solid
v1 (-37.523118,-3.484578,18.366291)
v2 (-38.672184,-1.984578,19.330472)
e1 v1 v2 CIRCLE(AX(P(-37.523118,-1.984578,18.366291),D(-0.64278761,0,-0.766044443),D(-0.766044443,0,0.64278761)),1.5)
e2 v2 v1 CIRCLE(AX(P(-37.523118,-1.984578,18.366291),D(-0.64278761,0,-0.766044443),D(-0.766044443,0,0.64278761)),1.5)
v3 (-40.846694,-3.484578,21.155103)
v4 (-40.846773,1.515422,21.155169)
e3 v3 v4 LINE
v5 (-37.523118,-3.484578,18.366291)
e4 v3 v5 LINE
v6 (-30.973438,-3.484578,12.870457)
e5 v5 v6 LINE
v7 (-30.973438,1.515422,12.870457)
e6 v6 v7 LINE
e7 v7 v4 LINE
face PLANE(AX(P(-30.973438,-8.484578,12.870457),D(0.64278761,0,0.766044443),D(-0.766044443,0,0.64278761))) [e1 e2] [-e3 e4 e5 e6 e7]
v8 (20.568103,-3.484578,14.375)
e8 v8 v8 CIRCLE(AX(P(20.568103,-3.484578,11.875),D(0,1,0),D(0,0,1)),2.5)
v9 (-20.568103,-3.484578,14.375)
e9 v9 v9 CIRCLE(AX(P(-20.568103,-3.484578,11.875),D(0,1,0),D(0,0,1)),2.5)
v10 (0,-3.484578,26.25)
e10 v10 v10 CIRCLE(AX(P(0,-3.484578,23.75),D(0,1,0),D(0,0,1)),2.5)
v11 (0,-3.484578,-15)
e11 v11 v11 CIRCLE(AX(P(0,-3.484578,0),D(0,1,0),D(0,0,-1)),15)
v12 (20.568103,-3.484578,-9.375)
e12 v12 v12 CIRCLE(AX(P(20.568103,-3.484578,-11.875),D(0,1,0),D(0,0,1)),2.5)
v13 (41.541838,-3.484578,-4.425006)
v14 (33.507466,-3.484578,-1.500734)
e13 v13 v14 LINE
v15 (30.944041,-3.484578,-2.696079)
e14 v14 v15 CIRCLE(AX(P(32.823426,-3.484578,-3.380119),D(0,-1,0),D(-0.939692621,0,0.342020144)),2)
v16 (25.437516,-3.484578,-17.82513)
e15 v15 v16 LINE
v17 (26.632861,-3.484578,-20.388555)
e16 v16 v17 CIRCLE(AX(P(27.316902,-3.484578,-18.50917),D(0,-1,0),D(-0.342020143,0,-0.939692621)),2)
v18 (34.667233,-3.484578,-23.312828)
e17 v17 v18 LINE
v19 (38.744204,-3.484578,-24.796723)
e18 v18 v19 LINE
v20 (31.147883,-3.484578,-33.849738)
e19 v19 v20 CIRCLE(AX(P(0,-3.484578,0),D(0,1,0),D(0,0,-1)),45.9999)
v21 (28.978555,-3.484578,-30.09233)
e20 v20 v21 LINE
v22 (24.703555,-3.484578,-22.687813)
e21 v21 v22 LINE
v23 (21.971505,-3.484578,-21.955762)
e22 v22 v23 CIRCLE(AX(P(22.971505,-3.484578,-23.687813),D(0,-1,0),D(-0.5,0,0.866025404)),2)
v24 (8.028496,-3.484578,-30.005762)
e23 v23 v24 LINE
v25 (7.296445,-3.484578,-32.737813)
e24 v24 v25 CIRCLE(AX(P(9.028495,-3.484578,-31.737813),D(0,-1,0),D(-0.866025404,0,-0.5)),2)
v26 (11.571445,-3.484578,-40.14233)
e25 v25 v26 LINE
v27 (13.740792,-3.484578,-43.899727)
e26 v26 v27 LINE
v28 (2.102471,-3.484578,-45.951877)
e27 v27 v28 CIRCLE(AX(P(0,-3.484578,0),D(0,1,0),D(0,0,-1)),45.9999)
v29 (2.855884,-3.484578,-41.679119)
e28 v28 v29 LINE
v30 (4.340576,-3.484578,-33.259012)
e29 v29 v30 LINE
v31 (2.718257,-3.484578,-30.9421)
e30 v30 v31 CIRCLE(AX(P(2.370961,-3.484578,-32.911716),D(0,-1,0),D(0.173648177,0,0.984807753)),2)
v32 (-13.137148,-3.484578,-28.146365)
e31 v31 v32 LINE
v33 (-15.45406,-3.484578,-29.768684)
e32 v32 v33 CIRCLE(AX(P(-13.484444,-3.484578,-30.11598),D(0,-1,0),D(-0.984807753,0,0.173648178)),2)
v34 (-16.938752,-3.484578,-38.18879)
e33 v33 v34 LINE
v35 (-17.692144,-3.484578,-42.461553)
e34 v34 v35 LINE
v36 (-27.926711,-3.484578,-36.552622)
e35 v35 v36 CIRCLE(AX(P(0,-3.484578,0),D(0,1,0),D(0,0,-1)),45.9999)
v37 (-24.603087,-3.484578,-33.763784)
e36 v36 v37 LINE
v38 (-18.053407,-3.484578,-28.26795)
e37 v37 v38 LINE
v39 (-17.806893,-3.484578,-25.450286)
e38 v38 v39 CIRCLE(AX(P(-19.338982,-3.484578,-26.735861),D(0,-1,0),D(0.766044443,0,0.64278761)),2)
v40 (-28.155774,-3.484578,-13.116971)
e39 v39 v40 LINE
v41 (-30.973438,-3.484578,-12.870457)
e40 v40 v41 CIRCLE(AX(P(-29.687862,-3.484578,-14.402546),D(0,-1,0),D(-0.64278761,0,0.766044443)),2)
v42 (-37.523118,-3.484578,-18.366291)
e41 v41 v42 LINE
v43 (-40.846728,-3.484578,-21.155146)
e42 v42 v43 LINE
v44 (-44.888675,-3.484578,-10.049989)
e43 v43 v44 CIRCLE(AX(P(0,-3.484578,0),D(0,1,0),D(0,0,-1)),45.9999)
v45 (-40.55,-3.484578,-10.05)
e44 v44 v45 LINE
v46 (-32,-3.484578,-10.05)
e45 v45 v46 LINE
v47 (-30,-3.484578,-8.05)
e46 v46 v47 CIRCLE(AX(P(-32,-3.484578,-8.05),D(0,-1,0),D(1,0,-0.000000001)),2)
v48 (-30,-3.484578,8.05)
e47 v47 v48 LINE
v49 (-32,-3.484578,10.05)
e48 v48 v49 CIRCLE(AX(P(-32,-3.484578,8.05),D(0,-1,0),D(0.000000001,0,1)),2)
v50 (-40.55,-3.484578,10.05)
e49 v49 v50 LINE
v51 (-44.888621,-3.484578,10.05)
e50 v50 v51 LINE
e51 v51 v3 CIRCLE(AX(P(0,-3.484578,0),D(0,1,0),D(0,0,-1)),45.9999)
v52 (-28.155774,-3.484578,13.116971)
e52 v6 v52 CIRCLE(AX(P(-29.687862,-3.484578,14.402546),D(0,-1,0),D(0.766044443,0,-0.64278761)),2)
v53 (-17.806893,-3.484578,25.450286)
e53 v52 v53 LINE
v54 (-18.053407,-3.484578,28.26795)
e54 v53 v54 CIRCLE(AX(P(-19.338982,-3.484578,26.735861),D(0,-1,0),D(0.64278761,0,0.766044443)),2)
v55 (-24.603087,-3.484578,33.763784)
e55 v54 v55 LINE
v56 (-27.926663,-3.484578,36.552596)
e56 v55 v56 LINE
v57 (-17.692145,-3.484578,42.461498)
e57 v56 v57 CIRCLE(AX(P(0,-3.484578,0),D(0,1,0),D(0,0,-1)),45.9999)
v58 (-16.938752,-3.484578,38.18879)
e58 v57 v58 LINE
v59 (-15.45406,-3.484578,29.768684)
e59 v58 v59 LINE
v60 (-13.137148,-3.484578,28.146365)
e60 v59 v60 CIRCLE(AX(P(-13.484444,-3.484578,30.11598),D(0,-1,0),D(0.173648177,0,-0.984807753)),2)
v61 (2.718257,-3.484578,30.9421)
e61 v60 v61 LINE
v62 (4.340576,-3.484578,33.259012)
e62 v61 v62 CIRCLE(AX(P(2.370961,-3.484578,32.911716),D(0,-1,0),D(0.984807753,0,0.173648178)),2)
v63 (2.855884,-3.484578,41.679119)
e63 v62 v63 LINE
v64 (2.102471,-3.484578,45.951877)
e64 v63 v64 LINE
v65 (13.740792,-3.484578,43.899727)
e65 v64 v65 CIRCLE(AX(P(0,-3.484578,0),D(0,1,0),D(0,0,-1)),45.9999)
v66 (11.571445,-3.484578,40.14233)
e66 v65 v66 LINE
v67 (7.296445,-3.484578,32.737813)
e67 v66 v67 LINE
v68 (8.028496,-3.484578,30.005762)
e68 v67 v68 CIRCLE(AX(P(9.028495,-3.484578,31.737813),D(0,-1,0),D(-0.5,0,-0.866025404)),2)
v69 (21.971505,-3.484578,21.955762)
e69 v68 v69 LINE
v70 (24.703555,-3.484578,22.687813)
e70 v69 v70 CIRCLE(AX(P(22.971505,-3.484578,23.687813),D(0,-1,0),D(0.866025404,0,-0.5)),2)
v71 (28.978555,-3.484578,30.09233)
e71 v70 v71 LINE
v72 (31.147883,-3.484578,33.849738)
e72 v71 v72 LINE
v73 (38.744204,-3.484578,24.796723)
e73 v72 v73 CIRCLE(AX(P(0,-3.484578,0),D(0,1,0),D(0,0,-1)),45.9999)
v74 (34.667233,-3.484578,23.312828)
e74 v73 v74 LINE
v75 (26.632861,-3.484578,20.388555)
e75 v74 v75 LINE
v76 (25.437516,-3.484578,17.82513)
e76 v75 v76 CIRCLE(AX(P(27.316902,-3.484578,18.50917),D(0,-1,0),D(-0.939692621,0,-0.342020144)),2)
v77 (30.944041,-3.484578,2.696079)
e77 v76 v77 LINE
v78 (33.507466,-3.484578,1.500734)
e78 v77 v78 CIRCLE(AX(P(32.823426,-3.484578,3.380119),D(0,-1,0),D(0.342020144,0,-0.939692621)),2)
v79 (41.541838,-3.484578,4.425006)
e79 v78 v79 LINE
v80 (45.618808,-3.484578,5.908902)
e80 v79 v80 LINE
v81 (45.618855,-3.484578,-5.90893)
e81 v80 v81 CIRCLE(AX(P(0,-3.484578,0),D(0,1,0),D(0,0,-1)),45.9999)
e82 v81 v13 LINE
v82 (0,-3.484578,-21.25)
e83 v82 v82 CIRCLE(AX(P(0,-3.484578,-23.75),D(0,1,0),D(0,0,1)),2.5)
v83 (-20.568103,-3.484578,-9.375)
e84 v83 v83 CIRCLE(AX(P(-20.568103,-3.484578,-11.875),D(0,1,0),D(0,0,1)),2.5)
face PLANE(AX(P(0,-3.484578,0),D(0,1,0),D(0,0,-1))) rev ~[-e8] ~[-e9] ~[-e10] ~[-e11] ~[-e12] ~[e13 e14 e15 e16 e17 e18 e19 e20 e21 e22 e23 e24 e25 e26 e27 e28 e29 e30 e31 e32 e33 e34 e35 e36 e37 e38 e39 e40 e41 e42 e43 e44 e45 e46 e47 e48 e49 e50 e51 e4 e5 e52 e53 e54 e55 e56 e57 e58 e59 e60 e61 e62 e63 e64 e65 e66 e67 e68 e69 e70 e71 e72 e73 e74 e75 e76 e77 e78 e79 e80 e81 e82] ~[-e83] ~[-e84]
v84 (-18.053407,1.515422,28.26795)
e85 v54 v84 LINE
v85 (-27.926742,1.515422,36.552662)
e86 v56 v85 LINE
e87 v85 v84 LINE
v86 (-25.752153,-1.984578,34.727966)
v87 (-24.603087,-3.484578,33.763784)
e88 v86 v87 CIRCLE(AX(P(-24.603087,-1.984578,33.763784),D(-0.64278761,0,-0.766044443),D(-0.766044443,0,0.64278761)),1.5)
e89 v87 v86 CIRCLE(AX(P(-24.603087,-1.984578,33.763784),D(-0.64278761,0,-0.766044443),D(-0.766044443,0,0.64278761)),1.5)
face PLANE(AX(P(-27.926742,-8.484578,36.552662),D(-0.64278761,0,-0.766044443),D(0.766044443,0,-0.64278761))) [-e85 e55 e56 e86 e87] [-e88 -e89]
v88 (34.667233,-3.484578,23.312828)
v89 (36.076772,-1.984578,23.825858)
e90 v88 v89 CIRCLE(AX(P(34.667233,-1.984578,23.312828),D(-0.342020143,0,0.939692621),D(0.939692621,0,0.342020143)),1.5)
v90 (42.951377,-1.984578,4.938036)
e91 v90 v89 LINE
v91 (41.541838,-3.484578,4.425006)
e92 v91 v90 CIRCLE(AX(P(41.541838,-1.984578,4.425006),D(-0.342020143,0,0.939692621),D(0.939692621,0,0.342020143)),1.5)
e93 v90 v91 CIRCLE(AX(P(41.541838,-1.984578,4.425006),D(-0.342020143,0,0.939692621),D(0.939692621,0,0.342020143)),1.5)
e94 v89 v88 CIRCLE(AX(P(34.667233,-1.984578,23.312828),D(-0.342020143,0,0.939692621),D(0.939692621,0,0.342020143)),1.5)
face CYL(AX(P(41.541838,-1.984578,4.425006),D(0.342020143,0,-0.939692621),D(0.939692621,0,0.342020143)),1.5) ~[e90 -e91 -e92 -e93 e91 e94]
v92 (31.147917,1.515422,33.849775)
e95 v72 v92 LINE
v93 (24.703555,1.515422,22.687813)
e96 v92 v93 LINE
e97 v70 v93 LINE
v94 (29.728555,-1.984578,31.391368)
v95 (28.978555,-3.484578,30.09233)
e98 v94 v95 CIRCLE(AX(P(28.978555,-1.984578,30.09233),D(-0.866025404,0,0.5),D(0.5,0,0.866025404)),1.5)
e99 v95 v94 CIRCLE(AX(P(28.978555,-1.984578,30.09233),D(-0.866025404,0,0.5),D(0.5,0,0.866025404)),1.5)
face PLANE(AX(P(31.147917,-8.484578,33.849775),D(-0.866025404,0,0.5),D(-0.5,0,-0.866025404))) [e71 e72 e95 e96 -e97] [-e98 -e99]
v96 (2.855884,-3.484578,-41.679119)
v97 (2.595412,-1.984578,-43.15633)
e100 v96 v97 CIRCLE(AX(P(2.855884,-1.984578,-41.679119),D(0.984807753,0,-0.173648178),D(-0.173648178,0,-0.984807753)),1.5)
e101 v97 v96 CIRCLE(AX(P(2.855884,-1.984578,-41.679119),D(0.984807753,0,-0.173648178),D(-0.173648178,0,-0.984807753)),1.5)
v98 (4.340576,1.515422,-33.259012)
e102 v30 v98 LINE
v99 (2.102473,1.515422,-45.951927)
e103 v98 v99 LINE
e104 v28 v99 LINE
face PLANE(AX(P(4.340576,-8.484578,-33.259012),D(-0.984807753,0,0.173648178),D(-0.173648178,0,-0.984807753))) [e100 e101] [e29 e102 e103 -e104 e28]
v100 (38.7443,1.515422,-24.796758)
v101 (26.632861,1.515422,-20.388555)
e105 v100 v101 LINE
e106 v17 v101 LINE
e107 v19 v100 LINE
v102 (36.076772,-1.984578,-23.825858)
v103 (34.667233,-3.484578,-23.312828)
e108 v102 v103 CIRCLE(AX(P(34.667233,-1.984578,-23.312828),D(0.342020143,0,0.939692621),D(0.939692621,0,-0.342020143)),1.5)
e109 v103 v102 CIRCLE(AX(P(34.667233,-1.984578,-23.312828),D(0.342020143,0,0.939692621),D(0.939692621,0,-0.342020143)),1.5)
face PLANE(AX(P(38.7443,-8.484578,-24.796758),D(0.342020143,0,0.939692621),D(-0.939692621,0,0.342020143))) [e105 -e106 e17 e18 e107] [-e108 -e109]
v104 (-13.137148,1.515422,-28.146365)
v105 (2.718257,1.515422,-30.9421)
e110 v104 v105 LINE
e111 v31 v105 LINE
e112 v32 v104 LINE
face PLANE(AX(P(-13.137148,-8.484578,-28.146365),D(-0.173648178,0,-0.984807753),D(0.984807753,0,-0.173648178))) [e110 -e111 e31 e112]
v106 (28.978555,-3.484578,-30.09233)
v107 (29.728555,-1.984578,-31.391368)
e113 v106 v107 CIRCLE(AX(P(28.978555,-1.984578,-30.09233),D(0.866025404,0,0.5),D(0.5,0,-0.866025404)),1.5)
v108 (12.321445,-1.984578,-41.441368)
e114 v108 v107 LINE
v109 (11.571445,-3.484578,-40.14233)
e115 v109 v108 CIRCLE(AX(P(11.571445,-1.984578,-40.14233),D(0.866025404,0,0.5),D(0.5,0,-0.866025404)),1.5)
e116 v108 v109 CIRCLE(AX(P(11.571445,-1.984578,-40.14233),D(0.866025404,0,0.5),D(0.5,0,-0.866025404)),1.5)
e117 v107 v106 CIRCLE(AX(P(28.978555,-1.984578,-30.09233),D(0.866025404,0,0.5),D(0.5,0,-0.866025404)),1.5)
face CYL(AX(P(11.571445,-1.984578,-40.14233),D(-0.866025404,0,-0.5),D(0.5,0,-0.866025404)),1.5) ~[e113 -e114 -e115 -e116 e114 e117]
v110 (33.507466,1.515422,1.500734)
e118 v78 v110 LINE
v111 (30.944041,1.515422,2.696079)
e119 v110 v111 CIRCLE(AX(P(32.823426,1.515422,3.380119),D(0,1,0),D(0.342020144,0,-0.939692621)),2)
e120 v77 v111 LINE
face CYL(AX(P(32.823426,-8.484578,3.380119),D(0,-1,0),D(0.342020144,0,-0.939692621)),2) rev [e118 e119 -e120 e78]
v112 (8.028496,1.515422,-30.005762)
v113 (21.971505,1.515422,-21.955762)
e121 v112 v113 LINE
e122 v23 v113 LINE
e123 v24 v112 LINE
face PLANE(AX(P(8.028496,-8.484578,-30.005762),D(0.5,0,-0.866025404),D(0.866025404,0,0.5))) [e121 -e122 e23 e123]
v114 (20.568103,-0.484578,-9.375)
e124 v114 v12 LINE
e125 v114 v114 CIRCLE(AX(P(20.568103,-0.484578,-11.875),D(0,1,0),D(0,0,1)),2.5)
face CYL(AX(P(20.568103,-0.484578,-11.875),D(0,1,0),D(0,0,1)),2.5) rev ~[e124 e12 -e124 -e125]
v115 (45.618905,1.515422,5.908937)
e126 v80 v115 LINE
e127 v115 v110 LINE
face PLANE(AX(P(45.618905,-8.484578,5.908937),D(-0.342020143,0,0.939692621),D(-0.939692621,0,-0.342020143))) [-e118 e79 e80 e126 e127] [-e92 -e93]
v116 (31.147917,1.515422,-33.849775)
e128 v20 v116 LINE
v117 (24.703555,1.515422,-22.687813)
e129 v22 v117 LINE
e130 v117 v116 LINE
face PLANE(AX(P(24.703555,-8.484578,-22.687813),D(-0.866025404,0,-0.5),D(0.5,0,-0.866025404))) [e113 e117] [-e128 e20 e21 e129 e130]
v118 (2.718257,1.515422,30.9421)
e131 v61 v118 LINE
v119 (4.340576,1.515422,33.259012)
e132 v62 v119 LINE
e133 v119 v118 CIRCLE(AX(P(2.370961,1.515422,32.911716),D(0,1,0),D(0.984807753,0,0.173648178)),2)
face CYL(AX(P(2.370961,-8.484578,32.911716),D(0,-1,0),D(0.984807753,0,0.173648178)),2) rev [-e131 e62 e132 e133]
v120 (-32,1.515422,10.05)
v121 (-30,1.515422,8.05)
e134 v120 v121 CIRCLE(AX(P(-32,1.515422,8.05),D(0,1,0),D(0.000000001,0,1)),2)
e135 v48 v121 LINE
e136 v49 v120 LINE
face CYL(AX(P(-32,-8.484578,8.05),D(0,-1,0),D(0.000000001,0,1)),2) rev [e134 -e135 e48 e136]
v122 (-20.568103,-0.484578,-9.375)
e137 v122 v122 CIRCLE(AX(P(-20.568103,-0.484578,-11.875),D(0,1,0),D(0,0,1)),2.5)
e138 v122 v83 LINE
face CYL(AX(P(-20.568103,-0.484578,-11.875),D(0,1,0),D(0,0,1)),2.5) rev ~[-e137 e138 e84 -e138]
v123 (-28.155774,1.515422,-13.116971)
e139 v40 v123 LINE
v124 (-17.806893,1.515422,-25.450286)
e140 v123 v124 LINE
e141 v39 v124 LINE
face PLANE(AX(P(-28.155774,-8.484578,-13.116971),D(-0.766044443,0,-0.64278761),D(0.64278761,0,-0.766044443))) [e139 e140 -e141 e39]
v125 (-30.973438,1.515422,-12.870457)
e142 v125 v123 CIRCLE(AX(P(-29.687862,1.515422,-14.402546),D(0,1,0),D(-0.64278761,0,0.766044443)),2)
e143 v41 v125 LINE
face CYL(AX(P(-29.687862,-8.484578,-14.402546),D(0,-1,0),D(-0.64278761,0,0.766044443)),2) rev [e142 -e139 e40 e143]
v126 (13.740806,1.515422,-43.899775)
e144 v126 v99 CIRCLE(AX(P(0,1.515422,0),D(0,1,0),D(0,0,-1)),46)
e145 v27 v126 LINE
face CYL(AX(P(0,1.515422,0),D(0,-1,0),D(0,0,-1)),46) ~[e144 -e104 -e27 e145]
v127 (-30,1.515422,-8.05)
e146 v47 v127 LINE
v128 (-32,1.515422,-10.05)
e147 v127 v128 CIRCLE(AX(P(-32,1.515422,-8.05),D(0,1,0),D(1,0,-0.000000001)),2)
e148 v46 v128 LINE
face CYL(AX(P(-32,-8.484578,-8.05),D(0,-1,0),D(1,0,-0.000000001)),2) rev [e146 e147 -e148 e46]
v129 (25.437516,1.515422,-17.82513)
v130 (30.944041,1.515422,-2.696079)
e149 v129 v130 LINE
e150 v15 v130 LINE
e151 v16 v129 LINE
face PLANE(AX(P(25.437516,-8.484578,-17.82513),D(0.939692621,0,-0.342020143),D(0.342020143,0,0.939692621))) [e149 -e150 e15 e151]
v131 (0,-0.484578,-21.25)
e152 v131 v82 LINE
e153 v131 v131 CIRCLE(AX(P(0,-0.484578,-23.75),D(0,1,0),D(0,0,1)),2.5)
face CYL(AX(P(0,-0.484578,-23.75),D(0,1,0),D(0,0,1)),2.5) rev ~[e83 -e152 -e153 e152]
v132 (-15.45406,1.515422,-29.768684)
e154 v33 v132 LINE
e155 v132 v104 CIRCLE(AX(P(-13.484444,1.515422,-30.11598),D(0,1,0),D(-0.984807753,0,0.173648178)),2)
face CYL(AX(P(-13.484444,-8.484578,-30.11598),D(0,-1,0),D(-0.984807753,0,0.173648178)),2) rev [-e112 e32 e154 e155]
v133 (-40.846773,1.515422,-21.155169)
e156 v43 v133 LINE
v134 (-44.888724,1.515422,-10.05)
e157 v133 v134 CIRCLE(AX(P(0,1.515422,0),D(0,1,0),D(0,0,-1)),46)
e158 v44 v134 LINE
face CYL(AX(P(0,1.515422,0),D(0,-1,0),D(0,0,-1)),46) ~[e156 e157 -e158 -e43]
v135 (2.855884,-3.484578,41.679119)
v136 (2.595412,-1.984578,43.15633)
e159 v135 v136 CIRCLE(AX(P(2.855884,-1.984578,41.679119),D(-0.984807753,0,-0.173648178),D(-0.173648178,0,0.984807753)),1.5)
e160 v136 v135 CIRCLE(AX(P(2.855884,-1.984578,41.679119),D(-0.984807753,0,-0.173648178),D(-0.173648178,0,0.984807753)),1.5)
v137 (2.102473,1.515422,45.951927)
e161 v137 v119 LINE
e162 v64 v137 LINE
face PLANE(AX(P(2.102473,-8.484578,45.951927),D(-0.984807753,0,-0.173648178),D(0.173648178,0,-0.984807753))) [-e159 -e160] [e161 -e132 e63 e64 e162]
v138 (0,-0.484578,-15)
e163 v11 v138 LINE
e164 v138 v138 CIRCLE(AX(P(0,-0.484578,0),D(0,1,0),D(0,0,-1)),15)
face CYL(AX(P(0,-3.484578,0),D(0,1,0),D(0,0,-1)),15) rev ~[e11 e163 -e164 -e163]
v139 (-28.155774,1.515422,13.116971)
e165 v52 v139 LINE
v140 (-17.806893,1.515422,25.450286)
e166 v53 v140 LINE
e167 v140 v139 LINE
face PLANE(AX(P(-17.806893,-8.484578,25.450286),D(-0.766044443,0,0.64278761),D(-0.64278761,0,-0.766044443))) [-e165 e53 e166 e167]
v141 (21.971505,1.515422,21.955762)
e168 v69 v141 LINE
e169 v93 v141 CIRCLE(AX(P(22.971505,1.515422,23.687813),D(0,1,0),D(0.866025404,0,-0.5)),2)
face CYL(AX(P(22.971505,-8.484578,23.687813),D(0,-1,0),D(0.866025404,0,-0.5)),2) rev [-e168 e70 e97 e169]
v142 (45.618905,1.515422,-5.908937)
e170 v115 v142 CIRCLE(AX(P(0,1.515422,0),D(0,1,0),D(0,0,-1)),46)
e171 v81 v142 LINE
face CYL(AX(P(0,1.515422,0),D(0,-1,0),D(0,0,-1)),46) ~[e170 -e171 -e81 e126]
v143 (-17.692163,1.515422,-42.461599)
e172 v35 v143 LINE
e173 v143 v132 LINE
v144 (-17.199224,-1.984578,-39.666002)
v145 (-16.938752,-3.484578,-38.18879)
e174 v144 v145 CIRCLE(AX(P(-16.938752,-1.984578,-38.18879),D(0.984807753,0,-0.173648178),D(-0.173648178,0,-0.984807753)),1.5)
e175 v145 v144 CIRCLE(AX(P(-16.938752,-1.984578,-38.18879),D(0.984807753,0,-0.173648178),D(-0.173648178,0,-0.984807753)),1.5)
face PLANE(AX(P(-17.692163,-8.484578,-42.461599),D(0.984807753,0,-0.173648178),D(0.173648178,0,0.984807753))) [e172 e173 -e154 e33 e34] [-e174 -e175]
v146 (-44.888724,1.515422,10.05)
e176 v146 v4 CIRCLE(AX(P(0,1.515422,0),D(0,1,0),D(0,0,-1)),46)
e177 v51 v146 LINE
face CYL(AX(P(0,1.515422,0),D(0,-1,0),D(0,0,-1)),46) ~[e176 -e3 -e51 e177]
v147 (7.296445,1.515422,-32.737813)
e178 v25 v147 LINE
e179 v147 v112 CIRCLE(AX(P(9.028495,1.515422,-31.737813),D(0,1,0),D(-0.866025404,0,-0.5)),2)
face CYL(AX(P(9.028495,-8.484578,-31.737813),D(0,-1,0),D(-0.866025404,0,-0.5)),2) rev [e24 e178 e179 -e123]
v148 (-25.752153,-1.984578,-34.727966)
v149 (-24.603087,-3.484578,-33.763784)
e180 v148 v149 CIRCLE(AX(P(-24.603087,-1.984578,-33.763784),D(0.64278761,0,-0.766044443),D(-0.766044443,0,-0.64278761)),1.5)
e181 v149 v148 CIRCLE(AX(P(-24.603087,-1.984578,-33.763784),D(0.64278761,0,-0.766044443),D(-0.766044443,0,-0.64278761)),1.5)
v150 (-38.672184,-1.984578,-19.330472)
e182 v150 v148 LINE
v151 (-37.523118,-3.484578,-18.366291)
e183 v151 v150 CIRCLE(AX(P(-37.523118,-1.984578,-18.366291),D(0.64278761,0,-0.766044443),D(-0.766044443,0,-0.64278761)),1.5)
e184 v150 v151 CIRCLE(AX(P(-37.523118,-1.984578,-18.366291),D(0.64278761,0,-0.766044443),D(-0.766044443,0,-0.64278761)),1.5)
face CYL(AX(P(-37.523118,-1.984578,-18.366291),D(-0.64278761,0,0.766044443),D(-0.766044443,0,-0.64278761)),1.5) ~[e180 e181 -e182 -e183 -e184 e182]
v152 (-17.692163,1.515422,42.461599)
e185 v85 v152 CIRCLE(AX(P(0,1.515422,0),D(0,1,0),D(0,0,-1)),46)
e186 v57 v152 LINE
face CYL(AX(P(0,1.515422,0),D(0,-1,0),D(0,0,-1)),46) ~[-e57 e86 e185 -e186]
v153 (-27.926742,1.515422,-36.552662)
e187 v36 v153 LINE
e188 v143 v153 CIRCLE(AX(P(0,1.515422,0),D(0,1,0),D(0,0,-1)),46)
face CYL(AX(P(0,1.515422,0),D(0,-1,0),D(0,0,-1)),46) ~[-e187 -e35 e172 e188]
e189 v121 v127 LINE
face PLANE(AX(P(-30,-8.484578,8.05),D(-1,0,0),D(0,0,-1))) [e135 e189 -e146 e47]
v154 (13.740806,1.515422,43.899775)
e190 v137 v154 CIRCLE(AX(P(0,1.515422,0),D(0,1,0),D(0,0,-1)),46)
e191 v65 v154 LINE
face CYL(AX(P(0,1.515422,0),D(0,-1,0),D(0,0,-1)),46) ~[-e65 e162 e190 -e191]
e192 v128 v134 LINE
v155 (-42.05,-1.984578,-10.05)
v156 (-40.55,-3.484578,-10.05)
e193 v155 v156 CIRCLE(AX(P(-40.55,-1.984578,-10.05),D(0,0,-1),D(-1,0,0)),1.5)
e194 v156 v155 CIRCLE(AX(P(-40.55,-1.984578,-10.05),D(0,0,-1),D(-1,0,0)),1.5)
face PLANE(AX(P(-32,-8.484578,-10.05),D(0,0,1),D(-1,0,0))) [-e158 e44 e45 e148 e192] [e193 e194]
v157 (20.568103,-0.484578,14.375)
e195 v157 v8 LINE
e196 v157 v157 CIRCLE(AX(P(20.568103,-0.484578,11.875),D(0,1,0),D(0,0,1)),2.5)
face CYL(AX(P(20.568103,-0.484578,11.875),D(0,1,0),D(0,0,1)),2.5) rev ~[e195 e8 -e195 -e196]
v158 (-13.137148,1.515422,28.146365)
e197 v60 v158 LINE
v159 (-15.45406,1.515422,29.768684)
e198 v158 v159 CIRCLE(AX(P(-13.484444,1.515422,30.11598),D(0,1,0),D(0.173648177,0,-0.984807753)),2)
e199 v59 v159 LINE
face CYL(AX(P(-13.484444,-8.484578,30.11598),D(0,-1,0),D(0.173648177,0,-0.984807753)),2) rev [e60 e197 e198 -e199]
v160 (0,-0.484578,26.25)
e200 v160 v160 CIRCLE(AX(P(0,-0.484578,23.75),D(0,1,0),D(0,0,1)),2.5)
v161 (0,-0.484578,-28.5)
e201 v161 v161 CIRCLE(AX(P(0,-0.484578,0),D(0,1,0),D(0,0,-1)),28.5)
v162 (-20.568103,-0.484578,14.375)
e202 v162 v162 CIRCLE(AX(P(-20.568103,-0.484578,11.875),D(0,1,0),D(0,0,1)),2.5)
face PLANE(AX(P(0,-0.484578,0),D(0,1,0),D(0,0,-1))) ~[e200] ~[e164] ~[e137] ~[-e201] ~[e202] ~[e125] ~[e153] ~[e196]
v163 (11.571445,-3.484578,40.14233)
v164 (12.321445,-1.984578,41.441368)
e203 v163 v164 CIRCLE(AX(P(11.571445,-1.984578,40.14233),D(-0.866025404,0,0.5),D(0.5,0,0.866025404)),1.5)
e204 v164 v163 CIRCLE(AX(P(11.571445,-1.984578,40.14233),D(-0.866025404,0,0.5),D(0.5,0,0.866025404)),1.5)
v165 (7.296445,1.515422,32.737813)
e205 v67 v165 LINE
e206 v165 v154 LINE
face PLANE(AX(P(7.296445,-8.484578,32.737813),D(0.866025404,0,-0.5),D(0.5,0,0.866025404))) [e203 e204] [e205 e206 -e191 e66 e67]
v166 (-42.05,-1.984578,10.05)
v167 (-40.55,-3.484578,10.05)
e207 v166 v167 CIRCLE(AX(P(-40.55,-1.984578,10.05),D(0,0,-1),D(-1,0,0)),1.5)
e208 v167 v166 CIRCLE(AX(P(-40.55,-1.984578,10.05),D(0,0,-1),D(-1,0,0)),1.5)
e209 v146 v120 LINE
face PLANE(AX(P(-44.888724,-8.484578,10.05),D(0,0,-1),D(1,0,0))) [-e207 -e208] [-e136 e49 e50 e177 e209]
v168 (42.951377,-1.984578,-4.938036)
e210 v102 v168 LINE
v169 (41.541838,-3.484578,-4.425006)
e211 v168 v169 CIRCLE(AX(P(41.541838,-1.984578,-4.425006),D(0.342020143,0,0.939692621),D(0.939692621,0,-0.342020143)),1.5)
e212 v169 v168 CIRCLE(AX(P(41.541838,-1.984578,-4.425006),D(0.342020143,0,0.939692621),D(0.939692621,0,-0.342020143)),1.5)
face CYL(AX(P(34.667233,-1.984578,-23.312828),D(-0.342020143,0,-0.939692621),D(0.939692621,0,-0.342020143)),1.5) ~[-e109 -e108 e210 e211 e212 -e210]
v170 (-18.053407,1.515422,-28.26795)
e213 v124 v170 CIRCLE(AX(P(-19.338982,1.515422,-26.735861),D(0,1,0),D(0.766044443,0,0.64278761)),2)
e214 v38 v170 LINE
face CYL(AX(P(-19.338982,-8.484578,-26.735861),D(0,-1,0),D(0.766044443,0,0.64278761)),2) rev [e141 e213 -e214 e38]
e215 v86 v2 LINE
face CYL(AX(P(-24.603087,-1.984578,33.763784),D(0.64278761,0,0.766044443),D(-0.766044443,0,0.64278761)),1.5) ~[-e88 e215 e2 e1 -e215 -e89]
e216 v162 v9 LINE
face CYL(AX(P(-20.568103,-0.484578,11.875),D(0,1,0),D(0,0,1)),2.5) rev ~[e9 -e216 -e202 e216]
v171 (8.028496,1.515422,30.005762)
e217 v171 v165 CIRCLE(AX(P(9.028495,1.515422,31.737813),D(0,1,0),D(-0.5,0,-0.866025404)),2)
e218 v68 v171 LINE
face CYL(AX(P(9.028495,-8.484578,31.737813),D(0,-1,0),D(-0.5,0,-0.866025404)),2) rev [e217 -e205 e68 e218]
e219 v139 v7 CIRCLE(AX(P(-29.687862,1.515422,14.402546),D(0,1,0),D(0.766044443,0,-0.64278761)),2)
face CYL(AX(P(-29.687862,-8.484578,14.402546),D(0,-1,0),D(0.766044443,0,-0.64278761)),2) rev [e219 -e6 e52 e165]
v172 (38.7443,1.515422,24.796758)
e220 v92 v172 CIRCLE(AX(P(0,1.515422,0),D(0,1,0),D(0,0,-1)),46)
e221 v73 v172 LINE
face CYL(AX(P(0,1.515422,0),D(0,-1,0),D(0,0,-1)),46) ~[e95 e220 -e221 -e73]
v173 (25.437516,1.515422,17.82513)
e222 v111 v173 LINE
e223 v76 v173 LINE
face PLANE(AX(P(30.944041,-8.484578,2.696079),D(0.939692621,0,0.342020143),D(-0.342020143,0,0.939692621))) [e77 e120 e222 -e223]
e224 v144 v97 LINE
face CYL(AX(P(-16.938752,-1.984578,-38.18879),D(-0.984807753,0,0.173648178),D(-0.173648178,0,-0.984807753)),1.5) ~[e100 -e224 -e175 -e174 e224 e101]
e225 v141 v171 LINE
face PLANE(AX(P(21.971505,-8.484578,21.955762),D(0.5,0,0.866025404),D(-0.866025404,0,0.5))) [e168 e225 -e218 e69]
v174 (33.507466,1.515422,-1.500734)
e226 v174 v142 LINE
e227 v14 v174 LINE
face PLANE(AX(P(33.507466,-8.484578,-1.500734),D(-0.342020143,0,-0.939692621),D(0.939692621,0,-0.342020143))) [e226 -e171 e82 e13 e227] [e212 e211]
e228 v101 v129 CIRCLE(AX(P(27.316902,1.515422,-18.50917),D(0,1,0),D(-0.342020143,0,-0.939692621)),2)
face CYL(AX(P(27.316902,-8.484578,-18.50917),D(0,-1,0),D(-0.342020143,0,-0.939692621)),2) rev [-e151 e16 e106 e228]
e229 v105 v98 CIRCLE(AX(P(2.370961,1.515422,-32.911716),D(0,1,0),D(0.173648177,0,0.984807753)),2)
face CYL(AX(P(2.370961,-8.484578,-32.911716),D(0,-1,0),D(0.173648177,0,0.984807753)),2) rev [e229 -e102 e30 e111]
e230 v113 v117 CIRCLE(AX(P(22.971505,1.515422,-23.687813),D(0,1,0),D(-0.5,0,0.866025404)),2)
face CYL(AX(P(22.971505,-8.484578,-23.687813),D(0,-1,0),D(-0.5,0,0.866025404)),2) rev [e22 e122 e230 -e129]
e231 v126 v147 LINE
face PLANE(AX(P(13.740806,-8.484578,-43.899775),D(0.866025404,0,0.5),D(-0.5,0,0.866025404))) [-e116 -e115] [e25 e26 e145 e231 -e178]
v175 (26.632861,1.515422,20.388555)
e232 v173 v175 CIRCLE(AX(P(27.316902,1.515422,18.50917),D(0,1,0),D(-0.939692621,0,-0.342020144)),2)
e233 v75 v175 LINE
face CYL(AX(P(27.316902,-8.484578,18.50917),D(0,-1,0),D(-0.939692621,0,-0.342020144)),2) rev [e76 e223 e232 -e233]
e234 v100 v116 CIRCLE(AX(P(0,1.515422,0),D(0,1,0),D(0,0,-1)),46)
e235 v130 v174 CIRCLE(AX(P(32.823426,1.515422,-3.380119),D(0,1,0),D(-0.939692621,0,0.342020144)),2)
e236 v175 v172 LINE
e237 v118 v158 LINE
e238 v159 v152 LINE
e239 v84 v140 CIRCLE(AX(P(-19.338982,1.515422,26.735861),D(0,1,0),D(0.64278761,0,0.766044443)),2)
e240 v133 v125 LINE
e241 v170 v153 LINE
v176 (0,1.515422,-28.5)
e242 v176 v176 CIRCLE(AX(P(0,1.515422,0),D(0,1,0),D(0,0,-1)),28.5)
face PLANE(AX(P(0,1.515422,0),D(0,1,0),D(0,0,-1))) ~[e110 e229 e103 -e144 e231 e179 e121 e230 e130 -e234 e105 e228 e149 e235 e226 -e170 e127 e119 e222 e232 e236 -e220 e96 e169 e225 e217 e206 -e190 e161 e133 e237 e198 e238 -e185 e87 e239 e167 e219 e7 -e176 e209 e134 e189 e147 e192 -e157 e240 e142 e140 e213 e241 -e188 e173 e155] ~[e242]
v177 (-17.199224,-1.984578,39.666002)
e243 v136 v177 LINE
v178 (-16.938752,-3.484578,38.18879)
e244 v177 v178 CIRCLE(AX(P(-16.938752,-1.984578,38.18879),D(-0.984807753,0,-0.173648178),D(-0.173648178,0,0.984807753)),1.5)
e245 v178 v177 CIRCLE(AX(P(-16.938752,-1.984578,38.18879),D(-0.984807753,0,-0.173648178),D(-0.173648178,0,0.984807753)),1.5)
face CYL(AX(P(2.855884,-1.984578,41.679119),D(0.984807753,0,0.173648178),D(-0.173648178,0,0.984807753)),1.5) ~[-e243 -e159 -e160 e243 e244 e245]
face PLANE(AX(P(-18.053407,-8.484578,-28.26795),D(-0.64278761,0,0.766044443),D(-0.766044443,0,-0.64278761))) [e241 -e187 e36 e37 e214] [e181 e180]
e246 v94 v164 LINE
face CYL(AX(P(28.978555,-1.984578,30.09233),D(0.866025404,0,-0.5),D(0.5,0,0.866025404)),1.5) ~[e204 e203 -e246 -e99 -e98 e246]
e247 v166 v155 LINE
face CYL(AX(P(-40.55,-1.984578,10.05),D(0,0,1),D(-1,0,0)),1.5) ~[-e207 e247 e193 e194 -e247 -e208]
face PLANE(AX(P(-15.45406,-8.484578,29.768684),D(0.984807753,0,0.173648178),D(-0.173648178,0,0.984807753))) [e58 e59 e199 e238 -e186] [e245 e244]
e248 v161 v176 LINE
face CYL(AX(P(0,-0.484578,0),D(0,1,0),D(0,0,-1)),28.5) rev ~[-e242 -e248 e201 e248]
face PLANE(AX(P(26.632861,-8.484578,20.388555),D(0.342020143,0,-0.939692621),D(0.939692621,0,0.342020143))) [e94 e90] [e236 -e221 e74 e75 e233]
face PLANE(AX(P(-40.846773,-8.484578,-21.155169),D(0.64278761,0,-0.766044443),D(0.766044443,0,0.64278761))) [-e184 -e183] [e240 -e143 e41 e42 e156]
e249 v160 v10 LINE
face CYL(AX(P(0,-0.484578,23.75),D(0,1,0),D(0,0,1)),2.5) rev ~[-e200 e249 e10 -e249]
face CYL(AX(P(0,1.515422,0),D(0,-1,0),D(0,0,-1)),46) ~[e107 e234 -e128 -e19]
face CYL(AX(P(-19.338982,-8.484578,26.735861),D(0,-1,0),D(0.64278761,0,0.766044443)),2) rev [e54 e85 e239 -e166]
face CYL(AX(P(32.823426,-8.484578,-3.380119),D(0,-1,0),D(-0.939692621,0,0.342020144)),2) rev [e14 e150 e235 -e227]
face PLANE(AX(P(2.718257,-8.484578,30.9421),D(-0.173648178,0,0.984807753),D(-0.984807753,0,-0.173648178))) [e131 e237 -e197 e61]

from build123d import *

# Parameters (mm, degrees)
SKETCH_2_R               = 2.5
CUT_EXTRUDE_1_DEPTH      = 10
CUT_EXTRUDE_START        = -10
CUT_EXTRUDE_3_DEPTH      = 10
SKETCH_5_R               = 1.5
EXTRUDE_1_DEPTH          = 20.1
PATTERN_CIRCULAR_8_COUNT = 9
SKETCH_6_R               = 108.516625274
CUT_EXTRUDE_4_DEPTH      = 2


with BuildPart() as part:
    # ｽｹｯﾁ1 → 回転1 (revolve)
    with BuildSketch(Plane.XY, mode=Mode.PRIVATE) as revolve_1_sk:
        Polygon((-15, -3.484577548), (-15, -0.484577548), (-28.5, -0.484577548), (-28.5, 1.515422452), (-46, 1.515422452), (-46, -0.484577548), (-45.9999, -3.484577548), (-46, -5.484577548), (-28.5, -5.484577548), (-28.5, -3.484577548), align=None)
    revolve(revolve_1_sk.sketch.rotate(Axis((0, 0, 0), (0, 1, 0)), 270), axis=Axis((0, 0, 0), (0, 1, 0)))

    # ｽｹｯﾁ2 → ｶｯﾄ - 押し出し1 (cut)
    with BuildSketch(Plane(origin=(0, -0.484577548, 0), x_dir=(1, 0, 0), z_dir=(0, 1, 0))):
        with Locations(Location((0, 23.75, 0), (0, 0, 270))):
            Circle(SKETCH_2_R)
        with Locations(Location((20.56810334, 11.875, 0), (0, 0, 270))):
            Circle(SKETCH_2_R)
        with Locations(Location((20.56810334, -11.875, 0), (0, 0, 270))):
            Circle(SKETCH_2_R)
        with Locations(Location((0, -23.75, 0), (0, 0, 270))):
            Circle(SKETCH_2_R)
        with Locations(Location((-20.56810334, -11.875, 0), (0, 0, 270))):
            Circle(SKETCH_2_R)
        with Locations(Location((-20.56810334, 11.875, 0), (0, 0, 270))):
            Circle(SKETCH_2_R)
    extrude(amount=-CUT_EXTRUDE_1_DEPTH, mode=Mode.SUBTRACT)

    # ｽｹｯﾁ3 → ｶｯﾄ - 押し出し3 (cut)
    with BuildSketch(Plane(origin=(0, 1.515422452, 0), x_dir=(1, 0, 0), z_dir=(0, 1, 0)).offset(CUT_EXTRUDE_START)):
        with BuildLine():
            Line((4.340576232, 33.259012282), (2.102472879, 45.951927139))
            ThreePointArc((2.102472879, 45.951927139), (-7.987816173, 45.301156639), (-17.692162956, 42.461598768))
            Line((-17.692162956, 42.461598768), (-15.454059603, 29.768683911))
            ThreePointArc((-15.454059603, 29.768683911), (-14.63159697, 28.477676178), (-13.137147742, 28.14636476))
            Line((-13.137147742, 28.14636476), (2.718257082, 30.942100421))
            ThreePointArc((2.718257082, 30.942100421), (4.009264815, 31.764563054), (4.340576232, 33.259012282))
        make_face()
        with BuildLine():
            Line((8.0284955, 30.005762114), (21.9715045, 21.955762114))
            ThreePointArc((21.9715045, 21.955762114), (23.489142591, 21.755961269), (24.703555308, 22.687812921))
            Line((24.703555308, 22.687812921), (31.147917072, 33.849774919))
            ThreePointArc((31.147917072, 33.849774919), (23, 39.837168574), (13.740806456, 43.899774919))
            Line((13.740806456, 43.899774919), (7.296444692, 32.737812921))
            ThreePointArc((7.296444692, 32.737812921), (7.096643847, 31.220174831), (8.0284955, 30.005762114))
        make_face()
        with BuildLine():
            ThreePointArc((45.618904696, 5.908936816), (43.225860556, 15.732926593), (38.744299816, 24.796758494))
            Line((38.744299816, 24.796758494), (26.632861425, 20.388555425))
            ThreePointArc((26.632861425, 20.388555425), (25.504286137, 19.354406707), (25.43751647, 17.825129897))
            Line((25.43751647, 17.825129897), (30.944040777, 2.696078702))
            ThreePointArc((30.944040777, 2.696078702), (31.978189495, 1.567503415), (33.507466306, 1.500733748))
            Line((33.507466306, 1.500733748), (45.618904696, 5.908936816))
        make_face()
        with BuildLine():
            ThreePointArc((38.744299816, -24.796758494), (43.225860556, -15.732926593), (45.618904696, -5.908936816))
            Line((45.618904696, -5.908936816), (33.507466306, -1.500733748))
            ThreePointArc((33.507466306, -1.500733748), (31.978189495, -1.567503415), (30.944040777, -2.696078702))
            Line((30.944040777, -2.696078702), (25.43751647, -17.825129897))
            ThreePointArc((25.43751647, -17.825129897), (25.504286137, -19.354406707), (26.632861425, -20.388555425))
            Line((26.632861425, -20.388555425), (38.744299816, -24.796758494))
        make_face()
        with BuildLine():
            ThreePointArc((13.740806456, -43.899774919), (23, -39.837168574), (31.147917072, -33.849774919))
            Line((31.147917072, -33.849774919), (24.703555308, -22.687812921))
            ThreePointArc((24.703555308, -22.687812921), (23.489142591, -21.755961269), (21.9715045, -21.955762114))
            Line((21.9715045, -21.955762114), (8.0284955, -30.005762114))
            ThreePointArc((8.0284955, -30.005762114), (7.096643847, -31.220174831), (7.296444692, -32.737812921))
            Line((7.296444692, -32.737812921), (13.740806456, -43.899774919))
        make_face()
        with BuildLine():
            ThreePointArc((-17.692162956, -42.461598768), (-7.987816173, -45.301156639), (2.102472879, -45.951927139))
            Line((2.102472879, -45.951927139), (4.340576232, -33.259012282))
            ThreePointArc((4.340576232, -33.259012282), (4.009264815, -31.764563054), (2.718257082, -30.942100421))
            Line((2.718257082, -30.942100421), (-13.137147742, -28.14636476))
            ThreePointArc((-13.137147742, -28.14636476), (-14.63159697, -28.477676178), (-15.454059603, -29.768683911))
            Line((-15.454059603, -29.768683911), (-17.692162956, -42.461598768))
        make_face()
        with BuildLine():
            Line((-30.973437657, -12.870456857), (-40.846772695, -21.155168645))
            ThreePointArc((-40.846772695, -21.155168645), (-35.238044383, -29.568230046), (-27.92674174, -36.552661952))
            Line((-27.92674174, -36.552661952), (-18.053406702, -28.267950163))
            ThreePointArc((-18.053406702, -28.267950163), (-17.346592526, -26.910172763), (-17.806893036, -25.450286058))
            Line((-17.806893036, -25.450286058), (-28.155773552, -13.116970523))
            ThreePointArc((-28.155773552, -13.116970523), (-29.513550952, -12.410156347), (-30.973437657, -12.870456857))
        make_face()
        with BuildLine():
            Line((-32, 10.05), (-44.888723528, 10.05))
            ThreePointArc((-44.888723528, 10.05), (-46, 0), (-44.888723528, -10.05))
            Line((-44.888723528, -10.05), (-32, -10.05))
            ThreePointArc((-32, -10.05), (-30.585786438, -9.464213562), (-30, -8.05))
            Line((-30, -8.05), (-30, 8.05))
            ThreePointArc((-30, 8.05), (-30.585786438, 9.464213562), (-32, 10.05))
        make_face()
        with BuildLine():
            Line((-18.053406702, 28.267950163), (-27.92674174, 36.552661952))
            ThreePointArc((-27.92674174, 36.552661952), (-35.238044383, 29.568230046), (-40.846772695, 21.155168645))
            Line((-40.846772695, 21.155168645), (-30.973437657, 12.870456857))
            ThreePointArc((-30.973437657, 12.870456857), (-29.513550952, 12.410156347), (-28.155773552, 13.116970523))
            Line((-28.155773552, 13.116970523), (-17.806893036, 25.450286058))
            ThreePointArc((-17.806893036, 25.450286058), (-17.346592526, 26.910172763), (-18.053406702, 28.267950163))
        make_face()
    extrude(amount=CUT_EXTRUDE_3_DEPTH, mode=Mode.SUBTRACT)

    # ｽｹｯﾁ5 → ﾎﾞｽ - 押し出し1 (add)
    with BuildSketch(Plane(origin=(-9.897317918, 0, 1.745164186), x_dir=(-0.1736481776669516, 0, -0.9848077530122044), z_dir=(0.9848077530122044, 0, -0.1736481776669516))):
        with Locations((40.55, -1.984577548)):
            Circle(SKETCH_5_R)
    extrude_1 = extrude(amount=EXTRUDE_1_DEPTH)

    # 円形ﾊﾟﾀｰﾝ8: ﾎﾞｽ - 押し出し1 ×9 about axis
    pattern_circular_8_axis = Axis((0, 0, 0), (0, -1, 0))
    for i in range(1, PATTERN_CIRCULAR_8_COUNT):
        add(extrude_1.rotate(pattern_circular_8_axis, i * 360 / PATTERN_CIRCULAR_8_COUNT))

    # ｽｹｯﾁ6 → ｶｯﾄ - 押し出し4 (cut)
    with BuildSketch(Plane.XZ.offset(5.484577548)):
        Circle(SKETCH_6_R)
    extrude(amount=-CUT_EXTRUDE_4_DEPTH, mode=Mode.SUBTRACT)


solid = part.part
